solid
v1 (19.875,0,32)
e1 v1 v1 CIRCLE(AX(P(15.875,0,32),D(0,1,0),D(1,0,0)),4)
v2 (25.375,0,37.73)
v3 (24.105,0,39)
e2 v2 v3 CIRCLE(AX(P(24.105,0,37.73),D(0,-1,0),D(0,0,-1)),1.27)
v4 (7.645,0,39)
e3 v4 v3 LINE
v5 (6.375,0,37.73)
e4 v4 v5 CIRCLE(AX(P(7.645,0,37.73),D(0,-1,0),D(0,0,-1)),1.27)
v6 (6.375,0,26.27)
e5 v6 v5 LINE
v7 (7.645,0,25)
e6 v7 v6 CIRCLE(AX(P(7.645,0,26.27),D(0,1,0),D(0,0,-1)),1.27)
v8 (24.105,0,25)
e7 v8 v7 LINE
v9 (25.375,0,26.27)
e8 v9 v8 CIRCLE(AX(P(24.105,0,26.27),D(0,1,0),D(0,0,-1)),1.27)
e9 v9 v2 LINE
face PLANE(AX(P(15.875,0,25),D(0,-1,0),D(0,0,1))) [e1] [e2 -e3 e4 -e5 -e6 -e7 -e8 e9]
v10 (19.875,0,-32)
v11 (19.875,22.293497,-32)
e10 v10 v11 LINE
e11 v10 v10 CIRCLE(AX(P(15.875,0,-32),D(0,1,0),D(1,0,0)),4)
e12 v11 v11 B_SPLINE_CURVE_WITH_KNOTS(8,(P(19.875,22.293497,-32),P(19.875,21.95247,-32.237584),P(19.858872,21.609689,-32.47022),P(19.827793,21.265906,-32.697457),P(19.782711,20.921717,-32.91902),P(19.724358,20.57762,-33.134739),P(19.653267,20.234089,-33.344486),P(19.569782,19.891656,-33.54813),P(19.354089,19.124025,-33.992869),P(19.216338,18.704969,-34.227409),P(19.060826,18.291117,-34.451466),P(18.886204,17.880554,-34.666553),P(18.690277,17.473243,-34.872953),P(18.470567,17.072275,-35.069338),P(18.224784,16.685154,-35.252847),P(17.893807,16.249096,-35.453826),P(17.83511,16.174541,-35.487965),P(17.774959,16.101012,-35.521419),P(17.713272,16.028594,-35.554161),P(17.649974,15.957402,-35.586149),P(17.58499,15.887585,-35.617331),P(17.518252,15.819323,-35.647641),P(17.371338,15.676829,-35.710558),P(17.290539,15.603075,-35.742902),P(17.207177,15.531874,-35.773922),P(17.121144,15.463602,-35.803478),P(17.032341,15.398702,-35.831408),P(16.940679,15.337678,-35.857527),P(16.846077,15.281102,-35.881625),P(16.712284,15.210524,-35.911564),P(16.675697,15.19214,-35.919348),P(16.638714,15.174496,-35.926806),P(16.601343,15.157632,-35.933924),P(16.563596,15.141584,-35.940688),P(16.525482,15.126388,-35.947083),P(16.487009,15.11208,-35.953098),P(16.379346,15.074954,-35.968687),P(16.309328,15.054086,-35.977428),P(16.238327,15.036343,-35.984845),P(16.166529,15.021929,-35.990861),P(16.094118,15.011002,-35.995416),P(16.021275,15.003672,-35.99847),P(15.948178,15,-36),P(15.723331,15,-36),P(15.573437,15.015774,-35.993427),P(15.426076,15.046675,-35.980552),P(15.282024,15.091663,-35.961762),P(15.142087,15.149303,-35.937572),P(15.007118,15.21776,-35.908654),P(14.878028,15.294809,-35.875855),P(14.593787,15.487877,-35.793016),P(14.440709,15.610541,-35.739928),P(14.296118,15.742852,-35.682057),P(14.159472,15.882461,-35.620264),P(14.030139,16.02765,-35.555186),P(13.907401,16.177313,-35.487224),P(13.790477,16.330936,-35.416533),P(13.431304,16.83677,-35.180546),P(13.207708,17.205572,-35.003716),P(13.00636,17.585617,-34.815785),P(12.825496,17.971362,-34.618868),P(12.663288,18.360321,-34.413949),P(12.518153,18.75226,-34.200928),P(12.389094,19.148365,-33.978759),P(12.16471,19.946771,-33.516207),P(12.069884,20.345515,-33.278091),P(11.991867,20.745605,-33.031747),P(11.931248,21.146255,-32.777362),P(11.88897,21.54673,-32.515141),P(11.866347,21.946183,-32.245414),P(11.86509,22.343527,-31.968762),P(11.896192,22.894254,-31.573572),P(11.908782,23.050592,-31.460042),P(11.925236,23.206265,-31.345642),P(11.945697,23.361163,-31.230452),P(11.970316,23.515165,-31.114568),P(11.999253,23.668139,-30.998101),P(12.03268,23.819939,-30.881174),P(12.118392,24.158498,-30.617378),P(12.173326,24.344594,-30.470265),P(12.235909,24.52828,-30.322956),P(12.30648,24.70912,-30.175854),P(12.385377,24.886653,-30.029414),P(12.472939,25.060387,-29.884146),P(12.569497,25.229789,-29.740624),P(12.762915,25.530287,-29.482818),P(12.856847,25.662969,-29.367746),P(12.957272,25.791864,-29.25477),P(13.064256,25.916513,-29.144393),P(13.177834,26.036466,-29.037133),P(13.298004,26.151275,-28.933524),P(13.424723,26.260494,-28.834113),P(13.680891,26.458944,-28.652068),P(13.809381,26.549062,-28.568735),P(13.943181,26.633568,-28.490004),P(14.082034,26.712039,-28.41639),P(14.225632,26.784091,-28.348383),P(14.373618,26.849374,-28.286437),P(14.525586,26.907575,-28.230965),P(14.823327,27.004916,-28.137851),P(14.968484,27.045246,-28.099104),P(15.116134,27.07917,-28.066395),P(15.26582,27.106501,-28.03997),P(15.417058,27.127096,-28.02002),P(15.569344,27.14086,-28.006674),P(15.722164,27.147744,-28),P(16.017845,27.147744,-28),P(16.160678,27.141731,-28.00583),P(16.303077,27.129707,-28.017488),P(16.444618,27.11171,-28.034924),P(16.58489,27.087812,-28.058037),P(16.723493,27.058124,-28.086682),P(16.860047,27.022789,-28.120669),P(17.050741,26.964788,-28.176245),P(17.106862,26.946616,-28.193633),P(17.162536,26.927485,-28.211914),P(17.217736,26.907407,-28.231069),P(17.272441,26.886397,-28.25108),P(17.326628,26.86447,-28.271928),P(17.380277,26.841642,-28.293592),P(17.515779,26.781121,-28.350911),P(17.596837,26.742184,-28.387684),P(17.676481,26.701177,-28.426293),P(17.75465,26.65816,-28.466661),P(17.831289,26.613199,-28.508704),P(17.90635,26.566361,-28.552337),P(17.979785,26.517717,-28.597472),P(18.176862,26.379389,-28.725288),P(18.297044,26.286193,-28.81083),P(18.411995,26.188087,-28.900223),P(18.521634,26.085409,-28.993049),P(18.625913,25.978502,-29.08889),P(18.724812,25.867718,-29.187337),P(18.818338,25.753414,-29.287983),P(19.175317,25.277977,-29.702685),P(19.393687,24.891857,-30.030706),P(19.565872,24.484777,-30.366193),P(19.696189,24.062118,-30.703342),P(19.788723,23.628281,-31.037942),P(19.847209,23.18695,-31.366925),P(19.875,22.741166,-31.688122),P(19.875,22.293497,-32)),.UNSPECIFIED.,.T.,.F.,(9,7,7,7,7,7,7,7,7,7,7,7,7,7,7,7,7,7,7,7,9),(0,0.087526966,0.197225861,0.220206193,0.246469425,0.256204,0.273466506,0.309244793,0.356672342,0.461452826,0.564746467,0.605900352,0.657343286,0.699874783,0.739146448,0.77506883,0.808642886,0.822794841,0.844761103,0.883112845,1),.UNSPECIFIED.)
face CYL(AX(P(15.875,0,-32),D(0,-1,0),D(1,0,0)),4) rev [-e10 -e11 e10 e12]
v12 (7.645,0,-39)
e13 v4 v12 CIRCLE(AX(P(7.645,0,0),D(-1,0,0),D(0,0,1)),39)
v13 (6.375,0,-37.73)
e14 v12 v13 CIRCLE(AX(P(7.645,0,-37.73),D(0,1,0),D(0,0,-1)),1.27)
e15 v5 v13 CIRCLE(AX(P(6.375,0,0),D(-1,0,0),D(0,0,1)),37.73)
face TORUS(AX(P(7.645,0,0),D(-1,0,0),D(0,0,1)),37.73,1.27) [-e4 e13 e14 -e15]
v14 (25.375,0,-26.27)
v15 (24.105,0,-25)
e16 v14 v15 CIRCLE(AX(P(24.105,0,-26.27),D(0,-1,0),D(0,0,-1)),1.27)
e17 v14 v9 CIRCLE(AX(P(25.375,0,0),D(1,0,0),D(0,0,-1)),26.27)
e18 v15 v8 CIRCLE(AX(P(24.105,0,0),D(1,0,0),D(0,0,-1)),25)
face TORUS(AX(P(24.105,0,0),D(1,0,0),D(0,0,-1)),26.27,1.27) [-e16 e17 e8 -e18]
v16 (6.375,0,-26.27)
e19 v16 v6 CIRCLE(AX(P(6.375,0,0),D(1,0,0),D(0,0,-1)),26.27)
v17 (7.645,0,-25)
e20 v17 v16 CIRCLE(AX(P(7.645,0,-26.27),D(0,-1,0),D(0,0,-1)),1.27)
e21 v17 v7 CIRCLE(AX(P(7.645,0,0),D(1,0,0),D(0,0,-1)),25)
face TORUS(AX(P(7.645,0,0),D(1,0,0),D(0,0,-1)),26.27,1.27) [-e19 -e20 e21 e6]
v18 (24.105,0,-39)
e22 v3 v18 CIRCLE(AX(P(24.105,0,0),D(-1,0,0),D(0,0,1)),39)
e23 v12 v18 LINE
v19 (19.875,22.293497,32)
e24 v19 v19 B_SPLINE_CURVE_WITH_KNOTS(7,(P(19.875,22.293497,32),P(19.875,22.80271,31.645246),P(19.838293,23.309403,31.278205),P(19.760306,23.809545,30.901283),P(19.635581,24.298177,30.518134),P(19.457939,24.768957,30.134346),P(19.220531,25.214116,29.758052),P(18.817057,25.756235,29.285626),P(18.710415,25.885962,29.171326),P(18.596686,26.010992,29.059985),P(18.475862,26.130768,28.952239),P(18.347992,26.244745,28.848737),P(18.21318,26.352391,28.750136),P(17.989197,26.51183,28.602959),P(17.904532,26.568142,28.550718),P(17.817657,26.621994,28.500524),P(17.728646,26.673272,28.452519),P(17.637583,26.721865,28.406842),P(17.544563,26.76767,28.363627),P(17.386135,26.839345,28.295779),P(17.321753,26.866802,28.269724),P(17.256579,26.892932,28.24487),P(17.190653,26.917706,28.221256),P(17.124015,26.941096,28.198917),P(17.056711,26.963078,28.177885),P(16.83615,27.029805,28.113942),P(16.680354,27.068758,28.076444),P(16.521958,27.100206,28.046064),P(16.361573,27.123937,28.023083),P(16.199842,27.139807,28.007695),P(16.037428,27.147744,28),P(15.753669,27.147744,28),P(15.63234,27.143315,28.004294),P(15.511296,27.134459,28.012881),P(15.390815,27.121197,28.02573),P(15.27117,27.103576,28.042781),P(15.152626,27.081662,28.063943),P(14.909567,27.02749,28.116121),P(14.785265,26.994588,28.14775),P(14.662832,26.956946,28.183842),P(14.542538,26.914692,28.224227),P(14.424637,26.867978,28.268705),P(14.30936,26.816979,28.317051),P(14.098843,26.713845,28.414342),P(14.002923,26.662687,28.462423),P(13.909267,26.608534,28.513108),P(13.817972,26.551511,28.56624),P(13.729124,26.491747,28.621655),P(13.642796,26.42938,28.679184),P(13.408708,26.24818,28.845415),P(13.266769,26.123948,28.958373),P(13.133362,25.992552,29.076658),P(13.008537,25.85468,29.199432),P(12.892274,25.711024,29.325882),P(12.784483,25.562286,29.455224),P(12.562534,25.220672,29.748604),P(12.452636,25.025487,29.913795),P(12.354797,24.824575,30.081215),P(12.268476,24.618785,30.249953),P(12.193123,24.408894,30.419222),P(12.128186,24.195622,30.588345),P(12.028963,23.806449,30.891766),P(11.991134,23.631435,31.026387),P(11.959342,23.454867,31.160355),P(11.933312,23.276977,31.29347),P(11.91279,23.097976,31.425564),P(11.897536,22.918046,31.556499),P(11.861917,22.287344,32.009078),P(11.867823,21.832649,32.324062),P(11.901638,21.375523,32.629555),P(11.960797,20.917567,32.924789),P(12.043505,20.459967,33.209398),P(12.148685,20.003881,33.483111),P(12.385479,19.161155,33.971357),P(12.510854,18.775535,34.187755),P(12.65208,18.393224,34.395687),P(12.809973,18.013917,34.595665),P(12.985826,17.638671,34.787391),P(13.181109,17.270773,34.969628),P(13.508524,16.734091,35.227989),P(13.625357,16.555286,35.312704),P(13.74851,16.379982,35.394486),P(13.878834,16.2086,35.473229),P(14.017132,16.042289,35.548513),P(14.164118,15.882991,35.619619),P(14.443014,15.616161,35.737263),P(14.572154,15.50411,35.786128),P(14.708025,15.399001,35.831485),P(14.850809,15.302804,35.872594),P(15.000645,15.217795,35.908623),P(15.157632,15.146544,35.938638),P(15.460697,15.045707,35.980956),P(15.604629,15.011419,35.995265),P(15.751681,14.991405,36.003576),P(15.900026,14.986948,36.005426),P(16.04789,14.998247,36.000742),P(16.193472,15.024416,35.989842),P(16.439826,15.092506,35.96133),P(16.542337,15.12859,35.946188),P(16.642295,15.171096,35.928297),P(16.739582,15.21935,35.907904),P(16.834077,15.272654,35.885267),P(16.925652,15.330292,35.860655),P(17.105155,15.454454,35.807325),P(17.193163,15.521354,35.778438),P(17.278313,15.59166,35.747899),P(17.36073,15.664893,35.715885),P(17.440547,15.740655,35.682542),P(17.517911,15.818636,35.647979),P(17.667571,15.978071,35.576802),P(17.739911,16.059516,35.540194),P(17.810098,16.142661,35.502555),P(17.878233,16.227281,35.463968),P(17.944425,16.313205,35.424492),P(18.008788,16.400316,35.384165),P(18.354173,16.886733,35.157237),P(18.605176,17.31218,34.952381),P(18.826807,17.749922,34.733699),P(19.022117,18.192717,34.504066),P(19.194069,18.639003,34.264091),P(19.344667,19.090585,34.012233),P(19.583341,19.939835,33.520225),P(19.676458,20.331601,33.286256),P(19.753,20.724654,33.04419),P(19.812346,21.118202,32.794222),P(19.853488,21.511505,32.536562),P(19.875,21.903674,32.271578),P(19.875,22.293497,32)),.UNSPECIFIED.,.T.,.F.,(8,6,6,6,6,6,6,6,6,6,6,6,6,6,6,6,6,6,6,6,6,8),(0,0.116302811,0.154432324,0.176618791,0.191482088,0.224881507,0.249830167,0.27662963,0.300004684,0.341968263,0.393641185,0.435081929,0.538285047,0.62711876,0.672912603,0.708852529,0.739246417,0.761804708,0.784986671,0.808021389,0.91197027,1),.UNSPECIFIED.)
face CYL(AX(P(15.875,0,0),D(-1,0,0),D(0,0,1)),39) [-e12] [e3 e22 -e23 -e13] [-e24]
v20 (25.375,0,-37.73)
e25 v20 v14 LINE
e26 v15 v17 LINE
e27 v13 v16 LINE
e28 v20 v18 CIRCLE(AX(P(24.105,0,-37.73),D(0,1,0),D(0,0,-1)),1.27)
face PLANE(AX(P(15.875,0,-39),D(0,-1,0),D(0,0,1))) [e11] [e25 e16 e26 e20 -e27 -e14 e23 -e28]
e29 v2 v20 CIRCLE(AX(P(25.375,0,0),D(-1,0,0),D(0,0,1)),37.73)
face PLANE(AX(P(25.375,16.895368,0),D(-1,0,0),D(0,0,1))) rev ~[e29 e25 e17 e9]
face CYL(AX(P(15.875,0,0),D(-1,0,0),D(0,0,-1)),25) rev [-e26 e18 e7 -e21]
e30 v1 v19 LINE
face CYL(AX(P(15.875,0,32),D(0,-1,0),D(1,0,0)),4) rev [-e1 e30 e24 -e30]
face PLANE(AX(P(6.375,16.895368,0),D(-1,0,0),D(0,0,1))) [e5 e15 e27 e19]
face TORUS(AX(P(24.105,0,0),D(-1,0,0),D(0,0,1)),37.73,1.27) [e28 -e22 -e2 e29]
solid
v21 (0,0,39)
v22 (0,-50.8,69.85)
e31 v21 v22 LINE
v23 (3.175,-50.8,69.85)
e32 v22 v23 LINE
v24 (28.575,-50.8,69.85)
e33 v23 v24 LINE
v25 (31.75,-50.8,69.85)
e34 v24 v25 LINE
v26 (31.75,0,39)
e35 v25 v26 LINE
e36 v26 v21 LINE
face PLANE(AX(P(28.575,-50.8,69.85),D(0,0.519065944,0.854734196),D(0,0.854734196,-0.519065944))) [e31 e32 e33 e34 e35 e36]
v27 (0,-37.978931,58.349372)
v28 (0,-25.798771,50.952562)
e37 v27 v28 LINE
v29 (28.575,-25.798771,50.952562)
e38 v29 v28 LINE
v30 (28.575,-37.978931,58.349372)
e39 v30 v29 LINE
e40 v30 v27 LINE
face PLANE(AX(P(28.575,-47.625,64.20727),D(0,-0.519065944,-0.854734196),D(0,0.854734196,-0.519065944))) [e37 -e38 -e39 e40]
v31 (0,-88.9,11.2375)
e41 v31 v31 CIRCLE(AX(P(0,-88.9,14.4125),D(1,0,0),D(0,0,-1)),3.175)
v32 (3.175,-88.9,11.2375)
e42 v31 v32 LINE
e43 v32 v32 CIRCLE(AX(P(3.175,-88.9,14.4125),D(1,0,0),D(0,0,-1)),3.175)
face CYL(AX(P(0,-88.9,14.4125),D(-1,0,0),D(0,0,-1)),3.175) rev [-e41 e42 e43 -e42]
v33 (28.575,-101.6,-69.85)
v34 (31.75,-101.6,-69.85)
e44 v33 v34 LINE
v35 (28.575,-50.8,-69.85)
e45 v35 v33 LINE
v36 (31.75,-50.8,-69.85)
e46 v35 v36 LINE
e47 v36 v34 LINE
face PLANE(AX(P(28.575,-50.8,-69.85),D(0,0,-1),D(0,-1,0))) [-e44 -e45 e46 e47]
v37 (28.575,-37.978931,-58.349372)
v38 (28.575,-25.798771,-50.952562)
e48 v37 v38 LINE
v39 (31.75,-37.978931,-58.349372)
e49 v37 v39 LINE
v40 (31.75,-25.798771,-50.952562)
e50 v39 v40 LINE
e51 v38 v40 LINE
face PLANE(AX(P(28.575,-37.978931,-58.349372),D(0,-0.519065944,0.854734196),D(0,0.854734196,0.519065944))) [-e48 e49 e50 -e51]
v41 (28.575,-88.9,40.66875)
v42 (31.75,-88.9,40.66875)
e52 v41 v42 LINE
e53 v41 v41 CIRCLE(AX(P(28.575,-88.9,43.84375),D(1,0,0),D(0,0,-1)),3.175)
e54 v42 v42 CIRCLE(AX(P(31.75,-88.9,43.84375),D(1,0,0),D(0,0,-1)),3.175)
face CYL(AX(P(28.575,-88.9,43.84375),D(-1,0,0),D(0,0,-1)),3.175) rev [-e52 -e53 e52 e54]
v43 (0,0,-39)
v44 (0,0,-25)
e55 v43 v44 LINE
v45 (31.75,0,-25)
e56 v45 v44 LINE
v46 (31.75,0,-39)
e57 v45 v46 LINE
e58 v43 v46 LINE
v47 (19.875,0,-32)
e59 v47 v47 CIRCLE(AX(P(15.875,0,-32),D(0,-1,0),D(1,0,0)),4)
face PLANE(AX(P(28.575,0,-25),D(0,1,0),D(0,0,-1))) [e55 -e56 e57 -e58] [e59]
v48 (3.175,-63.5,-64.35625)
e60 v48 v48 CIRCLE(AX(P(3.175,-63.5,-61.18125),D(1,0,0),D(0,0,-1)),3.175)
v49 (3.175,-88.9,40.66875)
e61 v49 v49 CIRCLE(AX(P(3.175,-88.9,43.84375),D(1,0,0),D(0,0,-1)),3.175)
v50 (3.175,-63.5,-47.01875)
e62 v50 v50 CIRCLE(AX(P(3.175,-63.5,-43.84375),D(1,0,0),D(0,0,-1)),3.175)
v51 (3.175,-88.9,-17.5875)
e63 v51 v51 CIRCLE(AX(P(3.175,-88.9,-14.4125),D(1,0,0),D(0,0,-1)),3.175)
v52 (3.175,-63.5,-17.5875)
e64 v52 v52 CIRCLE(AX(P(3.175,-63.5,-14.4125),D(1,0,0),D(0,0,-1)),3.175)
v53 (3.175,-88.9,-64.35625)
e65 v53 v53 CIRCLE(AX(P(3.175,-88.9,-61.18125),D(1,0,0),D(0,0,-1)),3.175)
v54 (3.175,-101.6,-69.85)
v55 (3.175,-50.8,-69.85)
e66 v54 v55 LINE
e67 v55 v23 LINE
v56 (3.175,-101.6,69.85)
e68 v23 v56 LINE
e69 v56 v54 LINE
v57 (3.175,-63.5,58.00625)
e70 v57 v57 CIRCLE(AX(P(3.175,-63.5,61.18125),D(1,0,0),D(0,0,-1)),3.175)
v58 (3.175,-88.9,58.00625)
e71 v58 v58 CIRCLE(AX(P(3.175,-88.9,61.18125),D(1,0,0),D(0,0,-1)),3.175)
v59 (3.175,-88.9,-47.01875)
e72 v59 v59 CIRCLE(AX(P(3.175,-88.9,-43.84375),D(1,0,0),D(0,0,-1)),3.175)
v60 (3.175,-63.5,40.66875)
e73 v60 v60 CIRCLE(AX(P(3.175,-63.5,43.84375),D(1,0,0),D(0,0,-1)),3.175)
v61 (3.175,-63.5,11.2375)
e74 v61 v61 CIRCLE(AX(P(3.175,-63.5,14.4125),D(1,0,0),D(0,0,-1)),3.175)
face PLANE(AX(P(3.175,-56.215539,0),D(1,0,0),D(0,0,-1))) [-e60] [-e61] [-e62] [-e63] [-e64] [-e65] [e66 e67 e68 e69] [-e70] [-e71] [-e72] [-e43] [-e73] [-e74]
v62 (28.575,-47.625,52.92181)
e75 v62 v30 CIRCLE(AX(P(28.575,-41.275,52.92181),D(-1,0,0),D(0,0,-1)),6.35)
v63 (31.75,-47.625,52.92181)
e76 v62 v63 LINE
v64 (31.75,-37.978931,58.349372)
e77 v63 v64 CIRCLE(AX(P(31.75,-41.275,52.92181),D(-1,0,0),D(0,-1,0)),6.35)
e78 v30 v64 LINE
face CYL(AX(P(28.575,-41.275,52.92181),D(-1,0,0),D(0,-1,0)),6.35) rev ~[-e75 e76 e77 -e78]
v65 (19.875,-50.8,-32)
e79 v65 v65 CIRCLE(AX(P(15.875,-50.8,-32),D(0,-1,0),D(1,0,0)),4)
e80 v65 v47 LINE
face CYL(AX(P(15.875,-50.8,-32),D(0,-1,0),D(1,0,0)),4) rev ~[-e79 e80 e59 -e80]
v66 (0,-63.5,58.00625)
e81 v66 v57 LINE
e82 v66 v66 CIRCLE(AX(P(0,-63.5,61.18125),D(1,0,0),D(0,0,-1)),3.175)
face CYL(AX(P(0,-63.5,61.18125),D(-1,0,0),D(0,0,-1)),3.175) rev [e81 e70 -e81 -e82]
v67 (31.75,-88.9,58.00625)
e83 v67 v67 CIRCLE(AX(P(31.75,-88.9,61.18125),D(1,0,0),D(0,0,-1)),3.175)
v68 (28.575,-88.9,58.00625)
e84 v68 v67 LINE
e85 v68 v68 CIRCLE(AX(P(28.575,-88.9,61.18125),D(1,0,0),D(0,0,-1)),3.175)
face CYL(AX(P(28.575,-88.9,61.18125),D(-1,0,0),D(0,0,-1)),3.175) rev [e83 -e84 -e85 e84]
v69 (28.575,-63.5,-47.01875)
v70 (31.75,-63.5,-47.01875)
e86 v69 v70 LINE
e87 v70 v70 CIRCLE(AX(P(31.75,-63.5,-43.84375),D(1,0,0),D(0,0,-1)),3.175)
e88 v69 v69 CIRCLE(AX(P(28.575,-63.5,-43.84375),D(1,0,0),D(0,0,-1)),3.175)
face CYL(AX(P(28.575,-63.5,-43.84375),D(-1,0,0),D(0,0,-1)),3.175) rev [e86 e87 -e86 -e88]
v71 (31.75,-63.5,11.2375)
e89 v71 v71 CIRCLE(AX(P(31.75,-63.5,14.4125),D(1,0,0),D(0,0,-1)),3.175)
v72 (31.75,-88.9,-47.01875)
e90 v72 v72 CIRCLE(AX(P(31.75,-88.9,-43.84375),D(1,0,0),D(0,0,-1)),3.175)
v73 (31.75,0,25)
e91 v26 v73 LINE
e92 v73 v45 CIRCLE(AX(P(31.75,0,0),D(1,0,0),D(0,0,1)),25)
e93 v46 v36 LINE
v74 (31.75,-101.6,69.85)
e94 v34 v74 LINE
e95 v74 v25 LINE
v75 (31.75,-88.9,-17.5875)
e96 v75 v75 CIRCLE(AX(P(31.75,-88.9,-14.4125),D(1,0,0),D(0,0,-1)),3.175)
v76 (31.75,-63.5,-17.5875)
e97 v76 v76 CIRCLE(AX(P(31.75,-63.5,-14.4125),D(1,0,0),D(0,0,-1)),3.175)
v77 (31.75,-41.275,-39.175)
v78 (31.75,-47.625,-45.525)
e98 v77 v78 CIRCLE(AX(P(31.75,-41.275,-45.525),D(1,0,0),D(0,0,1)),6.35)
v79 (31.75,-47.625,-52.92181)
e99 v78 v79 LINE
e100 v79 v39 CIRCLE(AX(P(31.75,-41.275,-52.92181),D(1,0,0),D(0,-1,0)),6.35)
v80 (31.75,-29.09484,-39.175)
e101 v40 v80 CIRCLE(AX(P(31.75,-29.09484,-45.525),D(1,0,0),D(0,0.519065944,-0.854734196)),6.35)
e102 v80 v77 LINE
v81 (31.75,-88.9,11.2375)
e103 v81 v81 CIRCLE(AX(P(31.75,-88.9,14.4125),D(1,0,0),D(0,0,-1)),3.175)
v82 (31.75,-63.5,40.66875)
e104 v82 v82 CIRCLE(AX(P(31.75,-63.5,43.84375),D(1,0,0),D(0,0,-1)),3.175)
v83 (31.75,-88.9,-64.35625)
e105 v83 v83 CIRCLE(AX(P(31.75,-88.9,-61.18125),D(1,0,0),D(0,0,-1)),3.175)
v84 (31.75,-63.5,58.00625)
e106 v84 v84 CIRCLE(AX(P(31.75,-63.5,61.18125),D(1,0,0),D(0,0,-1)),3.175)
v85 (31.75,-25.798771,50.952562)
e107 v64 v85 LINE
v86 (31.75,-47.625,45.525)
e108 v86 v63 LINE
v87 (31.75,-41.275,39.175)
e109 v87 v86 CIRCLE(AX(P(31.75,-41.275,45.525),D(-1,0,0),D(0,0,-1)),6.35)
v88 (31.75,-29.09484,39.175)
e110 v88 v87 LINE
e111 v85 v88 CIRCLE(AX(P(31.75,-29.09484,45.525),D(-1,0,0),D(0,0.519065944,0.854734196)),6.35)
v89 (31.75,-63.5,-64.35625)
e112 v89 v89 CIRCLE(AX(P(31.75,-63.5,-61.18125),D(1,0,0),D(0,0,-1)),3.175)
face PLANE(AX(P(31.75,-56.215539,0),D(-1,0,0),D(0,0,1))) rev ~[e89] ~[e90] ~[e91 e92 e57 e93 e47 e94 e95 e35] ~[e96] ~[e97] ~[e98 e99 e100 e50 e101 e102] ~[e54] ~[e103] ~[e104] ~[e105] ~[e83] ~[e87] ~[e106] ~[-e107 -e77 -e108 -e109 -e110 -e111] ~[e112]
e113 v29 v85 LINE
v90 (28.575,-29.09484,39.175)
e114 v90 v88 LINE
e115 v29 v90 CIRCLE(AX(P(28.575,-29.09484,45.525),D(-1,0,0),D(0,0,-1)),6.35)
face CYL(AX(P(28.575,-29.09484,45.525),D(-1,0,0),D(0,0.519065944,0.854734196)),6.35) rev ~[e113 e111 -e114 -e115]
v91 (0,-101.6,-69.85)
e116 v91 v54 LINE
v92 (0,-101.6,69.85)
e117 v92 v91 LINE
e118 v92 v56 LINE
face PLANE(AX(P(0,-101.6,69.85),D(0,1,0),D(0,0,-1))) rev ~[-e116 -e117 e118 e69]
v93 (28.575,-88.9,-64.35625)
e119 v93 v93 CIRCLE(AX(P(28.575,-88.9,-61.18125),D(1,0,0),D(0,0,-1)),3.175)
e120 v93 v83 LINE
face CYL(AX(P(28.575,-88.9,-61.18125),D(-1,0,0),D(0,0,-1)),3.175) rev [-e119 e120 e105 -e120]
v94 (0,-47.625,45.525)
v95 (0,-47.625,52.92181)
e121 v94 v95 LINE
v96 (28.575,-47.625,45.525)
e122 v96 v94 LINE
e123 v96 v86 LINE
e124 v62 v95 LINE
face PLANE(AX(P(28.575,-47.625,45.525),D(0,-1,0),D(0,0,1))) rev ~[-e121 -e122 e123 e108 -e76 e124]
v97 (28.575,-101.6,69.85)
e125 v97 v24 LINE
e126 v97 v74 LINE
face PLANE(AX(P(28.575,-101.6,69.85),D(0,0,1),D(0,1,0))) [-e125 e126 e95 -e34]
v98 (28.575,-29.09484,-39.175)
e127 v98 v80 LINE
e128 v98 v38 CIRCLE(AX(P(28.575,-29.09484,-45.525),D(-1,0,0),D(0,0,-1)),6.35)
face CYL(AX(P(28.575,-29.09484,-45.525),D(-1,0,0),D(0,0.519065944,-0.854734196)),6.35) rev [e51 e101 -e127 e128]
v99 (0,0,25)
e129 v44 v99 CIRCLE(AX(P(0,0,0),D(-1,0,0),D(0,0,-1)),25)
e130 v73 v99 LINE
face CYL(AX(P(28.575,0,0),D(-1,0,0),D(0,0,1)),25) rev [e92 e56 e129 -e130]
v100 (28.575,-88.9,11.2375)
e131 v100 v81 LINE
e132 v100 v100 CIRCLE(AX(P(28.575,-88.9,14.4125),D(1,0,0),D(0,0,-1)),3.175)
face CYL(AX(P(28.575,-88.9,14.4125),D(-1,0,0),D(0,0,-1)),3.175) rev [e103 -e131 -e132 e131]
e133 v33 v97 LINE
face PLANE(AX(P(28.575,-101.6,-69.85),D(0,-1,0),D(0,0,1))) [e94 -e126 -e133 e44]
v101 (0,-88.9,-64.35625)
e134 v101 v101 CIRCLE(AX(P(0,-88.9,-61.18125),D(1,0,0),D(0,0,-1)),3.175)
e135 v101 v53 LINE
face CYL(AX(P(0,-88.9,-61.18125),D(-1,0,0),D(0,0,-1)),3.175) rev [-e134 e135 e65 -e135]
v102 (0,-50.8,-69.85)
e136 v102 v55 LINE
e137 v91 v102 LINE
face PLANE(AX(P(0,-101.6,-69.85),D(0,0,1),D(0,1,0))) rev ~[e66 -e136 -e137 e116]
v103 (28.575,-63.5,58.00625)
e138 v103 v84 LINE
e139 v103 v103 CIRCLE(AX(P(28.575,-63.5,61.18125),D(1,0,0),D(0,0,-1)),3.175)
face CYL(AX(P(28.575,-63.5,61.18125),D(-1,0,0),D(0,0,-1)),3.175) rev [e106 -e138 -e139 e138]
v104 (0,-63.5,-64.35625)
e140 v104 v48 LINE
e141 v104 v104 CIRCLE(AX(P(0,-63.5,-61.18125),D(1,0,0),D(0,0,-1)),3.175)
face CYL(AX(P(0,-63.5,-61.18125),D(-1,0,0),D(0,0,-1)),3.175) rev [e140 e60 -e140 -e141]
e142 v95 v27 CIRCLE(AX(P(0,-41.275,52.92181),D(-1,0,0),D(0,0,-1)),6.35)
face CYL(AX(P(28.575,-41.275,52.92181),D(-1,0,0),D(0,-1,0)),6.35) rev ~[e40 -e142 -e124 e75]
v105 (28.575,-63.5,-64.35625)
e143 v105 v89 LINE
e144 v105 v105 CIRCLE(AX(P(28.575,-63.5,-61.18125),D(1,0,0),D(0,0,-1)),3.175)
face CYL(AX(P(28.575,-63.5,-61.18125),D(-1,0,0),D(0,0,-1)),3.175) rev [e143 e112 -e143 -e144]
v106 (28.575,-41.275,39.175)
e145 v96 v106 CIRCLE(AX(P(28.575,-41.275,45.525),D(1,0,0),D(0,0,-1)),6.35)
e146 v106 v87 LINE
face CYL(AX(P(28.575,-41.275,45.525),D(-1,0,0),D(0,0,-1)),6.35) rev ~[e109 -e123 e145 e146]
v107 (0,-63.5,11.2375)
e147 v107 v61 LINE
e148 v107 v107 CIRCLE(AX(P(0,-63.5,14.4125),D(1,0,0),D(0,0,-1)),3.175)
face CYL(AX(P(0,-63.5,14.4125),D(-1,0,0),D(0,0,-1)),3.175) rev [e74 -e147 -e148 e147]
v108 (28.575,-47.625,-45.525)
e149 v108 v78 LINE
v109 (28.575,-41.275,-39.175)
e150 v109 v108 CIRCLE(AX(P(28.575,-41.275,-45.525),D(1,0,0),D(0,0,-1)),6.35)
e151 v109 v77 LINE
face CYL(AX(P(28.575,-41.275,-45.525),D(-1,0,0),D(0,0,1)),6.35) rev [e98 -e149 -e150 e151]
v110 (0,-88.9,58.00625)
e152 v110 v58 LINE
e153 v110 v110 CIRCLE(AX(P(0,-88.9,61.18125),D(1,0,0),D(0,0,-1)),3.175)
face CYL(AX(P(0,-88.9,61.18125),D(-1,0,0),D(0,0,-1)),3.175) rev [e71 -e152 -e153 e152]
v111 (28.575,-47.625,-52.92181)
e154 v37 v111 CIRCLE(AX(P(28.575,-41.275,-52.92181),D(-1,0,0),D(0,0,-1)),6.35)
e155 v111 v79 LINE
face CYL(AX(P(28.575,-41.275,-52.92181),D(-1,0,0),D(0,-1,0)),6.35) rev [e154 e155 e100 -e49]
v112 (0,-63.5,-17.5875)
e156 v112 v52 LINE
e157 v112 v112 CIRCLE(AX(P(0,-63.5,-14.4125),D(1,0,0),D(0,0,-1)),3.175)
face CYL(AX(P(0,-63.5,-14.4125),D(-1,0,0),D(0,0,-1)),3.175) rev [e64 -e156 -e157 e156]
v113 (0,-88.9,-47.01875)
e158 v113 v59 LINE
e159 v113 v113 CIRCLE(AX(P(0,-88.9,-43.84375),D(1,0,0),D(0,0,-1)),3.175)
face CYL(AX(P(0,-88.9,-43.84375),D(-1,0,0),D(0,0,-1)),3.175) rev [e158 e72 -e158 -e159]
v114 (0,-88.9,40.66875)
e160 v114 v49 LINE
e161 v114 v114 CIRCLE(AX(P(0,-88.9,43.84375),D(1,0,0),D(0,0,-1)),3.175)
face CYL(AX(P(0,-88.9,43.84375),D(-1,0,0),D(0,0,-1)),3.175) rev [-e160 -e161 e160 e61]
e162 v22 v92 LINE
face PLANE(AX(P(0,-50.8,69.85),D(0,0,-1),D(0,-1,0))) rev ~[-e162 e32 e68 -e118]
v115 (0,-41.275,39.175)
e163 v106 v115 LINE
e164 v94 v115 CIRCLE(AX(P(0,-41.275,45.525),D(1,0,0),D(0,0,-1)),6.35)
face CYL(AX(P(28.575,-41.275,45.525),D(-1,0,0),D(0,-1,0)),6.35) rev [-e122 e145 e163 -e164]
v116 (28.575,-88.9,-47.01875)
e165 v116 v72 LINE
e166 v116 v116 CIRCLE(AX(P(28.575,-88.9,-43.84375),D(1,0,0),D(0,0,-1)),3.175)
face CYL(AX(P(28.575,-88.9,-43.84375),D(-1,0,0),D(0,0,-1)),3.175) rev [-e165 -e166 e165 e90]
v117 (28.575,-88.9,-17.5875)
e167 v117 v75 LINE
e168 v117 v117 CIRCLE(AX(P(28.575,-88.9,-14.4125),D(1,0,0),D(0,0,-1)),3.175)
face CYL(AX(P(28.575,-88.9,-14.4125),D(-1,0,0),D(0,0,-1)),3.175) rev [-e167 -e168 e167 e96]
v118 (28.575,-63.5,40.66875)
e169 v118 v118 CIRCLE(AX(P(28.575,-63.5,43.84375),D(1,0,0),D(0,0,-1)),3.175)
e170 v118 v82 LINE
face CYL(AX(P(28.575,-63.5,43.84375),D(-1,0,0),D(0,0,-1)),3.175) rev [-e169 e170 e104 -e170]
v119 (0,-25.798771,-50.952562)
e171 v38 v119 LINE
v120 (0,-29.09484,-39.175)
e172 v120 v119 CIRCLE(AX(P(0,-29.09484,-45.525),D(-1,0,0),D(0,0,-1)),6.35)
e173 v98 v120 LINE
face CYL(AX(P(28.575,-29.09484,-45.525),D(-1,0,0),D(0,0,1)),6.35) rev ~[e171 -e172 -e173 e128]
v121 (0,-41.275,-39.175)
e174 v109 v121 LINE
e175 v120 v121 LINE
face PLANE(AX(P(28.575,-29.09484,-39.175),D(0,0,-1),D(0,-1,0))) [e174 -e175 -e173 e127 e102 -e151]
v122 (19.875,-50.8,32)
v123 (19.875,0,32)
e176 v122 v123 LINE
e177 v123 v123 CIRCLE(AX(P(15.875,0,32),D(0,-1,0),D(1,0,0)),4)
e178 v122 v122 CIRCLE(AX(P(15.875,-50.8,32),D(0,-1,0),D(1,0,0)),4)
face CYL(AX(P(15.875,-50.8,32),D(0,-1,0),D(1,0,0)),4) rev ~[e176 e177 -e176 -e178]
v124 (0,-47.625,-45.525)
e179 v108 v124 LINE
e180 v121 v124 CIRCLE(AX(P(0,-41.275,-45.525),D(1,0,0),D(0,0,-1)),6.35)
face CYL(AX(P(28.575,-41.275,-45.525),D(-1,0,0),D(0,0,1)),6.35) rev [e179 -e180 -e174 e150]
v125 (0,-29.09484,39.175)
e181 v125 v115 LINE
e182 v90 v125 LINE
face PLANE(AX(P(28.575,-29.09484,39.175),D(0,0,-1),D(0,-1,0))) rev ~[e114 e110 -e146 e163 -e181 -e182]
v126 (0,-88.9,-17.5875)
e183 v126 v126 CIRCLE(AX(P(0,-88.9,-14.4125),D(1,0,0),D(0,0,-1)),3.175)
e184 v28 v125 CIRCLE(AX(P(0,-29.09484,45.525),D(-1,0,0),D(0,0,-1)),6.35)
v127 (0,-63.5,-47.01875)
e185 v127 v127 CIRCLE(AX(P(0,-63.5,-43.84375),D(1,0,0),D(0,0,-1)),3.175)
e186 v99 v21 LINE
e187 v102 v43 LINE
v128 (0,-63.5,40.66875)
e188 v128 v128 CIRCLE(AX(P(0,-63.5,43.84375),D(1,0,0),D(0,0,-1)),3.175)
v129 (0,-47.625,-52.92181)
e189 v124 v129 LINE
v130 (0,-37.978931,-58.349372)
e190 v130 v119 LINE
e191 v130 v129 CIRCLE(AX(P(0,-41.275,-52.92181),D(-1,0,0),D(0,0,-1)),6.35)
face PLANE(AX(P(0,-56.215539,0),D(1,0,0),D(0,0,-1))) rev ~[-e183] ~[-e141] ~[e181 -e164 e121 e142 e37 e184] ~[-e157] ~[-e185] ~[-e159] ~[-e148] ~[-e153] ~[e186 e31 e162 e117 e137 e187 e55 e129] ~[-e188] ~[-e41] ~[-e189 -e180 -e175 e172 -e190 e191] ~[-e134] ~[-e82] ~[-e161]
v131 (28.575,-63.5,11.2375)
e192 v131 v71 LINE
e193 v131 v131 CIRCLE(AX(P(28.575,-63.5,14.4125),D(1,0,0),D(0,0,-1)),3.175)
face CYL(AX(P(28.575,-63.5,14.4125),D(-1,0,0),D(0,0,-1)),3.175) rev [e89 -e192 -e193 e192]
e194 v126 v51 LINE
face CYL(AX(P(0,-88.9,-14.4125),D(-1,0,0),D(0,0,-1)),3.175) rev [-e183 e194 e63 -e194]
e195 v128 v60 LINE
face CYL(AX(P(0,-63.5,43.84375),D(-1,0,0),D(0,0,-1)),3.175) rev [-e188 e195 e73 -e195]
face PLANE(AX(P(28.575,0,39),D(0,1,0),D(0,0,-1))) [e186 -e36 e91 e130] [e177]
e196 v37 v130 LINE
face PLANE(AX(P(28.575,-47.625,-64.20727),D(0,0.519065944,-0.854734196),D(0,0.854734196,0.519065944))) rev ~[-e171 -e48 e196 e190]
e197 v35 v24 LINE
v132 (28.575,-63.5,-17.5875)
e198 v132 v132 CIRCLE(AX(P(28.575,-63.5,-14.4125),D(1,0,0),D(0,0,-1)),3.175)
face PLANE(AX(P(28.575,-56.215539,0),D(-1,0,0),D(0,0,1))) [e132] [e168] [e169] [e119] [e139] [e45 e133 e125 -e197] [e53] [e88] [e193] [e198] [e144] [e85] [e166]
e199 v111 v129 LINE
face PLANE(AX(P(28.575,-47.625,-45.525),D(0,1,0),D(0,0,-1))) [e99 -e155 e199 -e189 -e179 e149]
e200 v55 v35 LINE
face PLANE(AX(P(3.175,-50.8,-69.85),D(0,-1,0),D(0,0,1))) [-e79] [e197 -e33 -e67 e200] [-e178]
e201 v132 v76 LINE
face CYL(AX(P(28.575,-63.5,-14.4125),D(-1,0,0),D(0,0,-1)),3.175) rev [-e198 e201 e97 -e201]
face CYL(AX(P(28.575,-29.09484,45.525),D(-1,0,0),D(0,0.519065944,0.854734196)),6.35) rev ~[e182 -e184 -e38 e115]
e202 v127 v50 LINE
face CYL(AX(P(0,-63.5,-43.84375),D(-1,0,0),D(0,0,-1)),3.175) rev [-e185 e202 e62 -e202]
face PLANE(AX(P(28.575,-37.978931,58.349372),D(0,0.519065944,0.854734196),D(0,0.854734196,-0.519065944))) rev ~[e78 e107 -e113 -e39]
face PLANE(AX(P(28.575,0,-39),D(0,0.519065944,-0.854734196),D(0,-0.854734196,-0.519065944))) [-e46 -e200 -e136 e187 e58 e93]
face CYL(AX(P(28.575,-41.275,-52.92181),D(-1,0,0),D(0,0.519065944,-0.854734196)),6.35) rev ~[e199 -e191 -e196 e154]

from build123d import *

# Parameters (mm, degrees)
SKETCH1_R           = 3.175
BOSS_EXTRUDE1_DEPTH = 3.175
BOSS_EXTRUDE2_START = 3.175
BOSS_EXTRUDE2_DEPTH = 25.4
SKETCH2_R           = 4
CUT_EXTRUDE1_DEPTH  = 51.8
CUT_EXTRUDE4_DEPTH  = 29.575
FILLET1_R           = 6.35
SKETCH7_R           = 3.175
BOSS_EXTRUDE3_DEPTH = 3.175
BOSS_EXTRUDE4_START = -15.875
BOSS_EXTRUDE4_DEPTH = 9.5
SKETCH10_R          = 4
CUT_EXTRUDE8_DEPTH  = 40
FILLET3_R           = 1.27


with BuildPart() as part:
    # Sketch1 → Boss-Extrude1 (new body)
    with BuildSketch(Plane(origin=(0, 0, 0), x_dir=(0, 0, -1), z_dir=(1, 0, 0))):
        with BuildLine():
            Line((-25, 0), (-39, 0))
            Line((-39, 0), (-69.85, -50.8))
            Line((-69.85, -50.8), (-69.85, -101.6))
            Line((-69.85, -101.6), (69.85, -101.6))
            Line((69.85, -101.6), (69.85, -50.8))
            Line((69.85, -50.8), (39, 0))
            Line((39, 0), (25, 0))
            ThreePointArc((25, 0), (0, -25), (-25, 0))
        make_face()
        with Locations((-61.18125, -63.5)):
            Circle(SKETCH1_R, mode=Mode.SUBTRACT)
        with Locations((-43.84375, -63.5)):
            Circle(SKETCH1_R, mode=Mode.SUBTRACT)
        with Locations((-61.18125, -88.9)):
            Circle(SKETCH1_R, mode=Mode.SUBTRACT)
        with Locations((-43.84375, -88.9)):
            Circle(SKETCH1_R, mode=Mode.SUBTRACT)
        with Locations((61.18125, -88.9)):
            Circle(SKETCH1_R, mode=Mode.SUBTRACT)
        with Locations((43.84375, -88.9)):
            Circle(SKETCH1_R, mode=Mode.SUBTRACT)
        with Locations((43.84375, -63.5)):
            Circle(SKETCH1_R, mode=Mode.SUBTRACT)
        with Locations((61.18125, -63.5)):
            Circle(SKETCH1_R, mode=Mode.SUBTRACT)
        with Locations((-14.4125, -63.5)):
            Circle(SKETCH1_R, mode=Mode.SUBTRACT)
        with Locations((14.4125, -63.5)):
            Circle(SKETCH1_R, mode=Mode.SUBTRACT)
        with Locations((-14.4125, -88.9)):
            Circle(SKETCH1_R, mode=Mode.SUBTRACT)
        with Locations((14.4125, -88.9)):
            Circle(SKETCH1_R, mode=Mode.SUBTRACT)
    extrude(amount=BOSS_EXTRUDE1_DEPTH)

    # Sketch1<3> → Boss-Extrude2 (add)
    with BuildSketch(Plane(origin=(0, 0, 0), x_dir=(0, 0, -1), z_dir=(1, 0, 0)).offset(BOSS_EXTRUDE2_START)):
        with BuildLine():
            ThreePointArc((-25, 0), (0, -25), (25, 0))
            Line((25, 0), (39, 0))
            Line((39, 0), (69.85, -50.8))
            Line((69.85, -50.8), (-69.85, -50.8))
            Line((-69.85, -50.8), (-39, 0))
            Line((-39, 0), (-25, 0))
        make_face()
    extrude(amount=BOSS_EXTRUDE2_DEPTH)

    # Sketch2 → Cut-Extrude1 (cut, through all)
    with BuildSketch(Plane.XZ.offset(50.8)):
        with Locations((15.875, 32.000000008)):
            Circle(SKETCH2_R)
        with Locations((15.875, -32.000000008)):
            Circle(SKETCH2_R)
    extrude(amount=-CUT_EXTRUDE1_DEPTH, mode=Mode.SUBTRACT)

    # Sketch3 → Cut-Extrude4 (cut, through all)
    with BuildSketch(Plane(origin=(28.575, 0, 0), x_dir=(0, 0, -1), z_dir=(1, 0, 0))):
        Polygon((-39.175000008, -47.625), (-64.207269904, -47.625), (-39.175000008, -6.404925098), align=None)
        Polygon((39.175000008, -47.625), (64.207269904, -47.625), (39.175000008, -6.404925098), align=None)
    extrude(amount=-CUT_EXTRUDE4_DEPTH, mode=Mode.SUBTRACT)

    # Fillet1
    fillet1_edges = [part.edges().sort_by_distance(p)[0] for p in [
        (14.2875, -47.625, -64.207269904),
        (14.2875, -47.625, -39.175000008),
        (14.2875, -6.404925098, -39.175000008),
        (14.2875, -47.625, 39.175000008),
        (14.2875, -47.625, 64.207269904),
        (14.2875, -6.404925098, 39.175000008),
    ]]
    fillet(fillet1_edges, radius=FILLET1_R)

    # Sketch7 → Boss-Extrude3 (add)
    with BuildSketch(Plane(origin=(28.575, 0, 0), x_dir=(0, 0, -1), z_dir=(1, 0, 0))):
        with BuildLine():
            Line((-69.85, -101.6), (-69.85, -50.8))
            Line((-69.85, -50.8), (-39, 0))
            Line((-39, 0), (-25, 0))
            ThreePointArc((-25, 0), (0, -25), (25, 0))
            Line((25, 0), (39, 0))
            Line((39, 0), (69.85, -50.8))
            Line((69.85, -50.8), (69.85, -101.6))
            Line((69.85, -101.6), (-69.85, -101.6))
        make_face()
        with Locations((-43.84375, -88.9)):
            Circle(SKETCH7_R, mode=Mode.SUBTRACT)
        with Locations((-61.18125, -88.9)):
            Circle(SKETCH7_R, mode=Mode.SUBTRACT)
        with Locations((-61.18125, -63.5)):
            Circle(SKETCH7_R, mode=Mode.SUBTRACT)
        with Locations((-43.84375, -63.5)):
            Circle(SKETCH7_R, mode=Mode.SUBTRACT)
        with Locations((14.4125, -88.9)):
            Circle(SKETCH7_R, mode=Mode.SUBTRACT)
        with Locations((-14.4125, -88.9)):
            Circle(SKETCH7_R, mode=Mode.SUBTRACT)
        with Locations((-14.4125, -63.5)):
            Circle(SKETCH7_R, mode=Mode.SUBTRACT)
        with Locations((14.4125, -63.5)):
            Circle(SKETCH7_R, mode=Mode.SUBTRACT)
        with Locations((61.18125, -88.9)):
            Circle(SKETCH7_R, mode=Mode.SUBTRACT)
        with Locations((43.84375, -88.9)):
            Circle(SKETCH7_R, mode=Mode.SUBTRACT)
        with Locations((43.84375, -63.5)):
            Circle(SKETCH7_R, mode=Mode.SUBTRACT)
        with Locations((61.18125, -63.5)):
            Circle(SKETCH7_R, mode=Mode.SUBTRACT)
        with BuildLine():
            Line((58.349371858, -37.978931256), (50.952562153, -25.798771352))
            ThreePointArc((50.952562153, -25.798771352), (43.813643765, -22.979796367), (39.175000008, -29.094840096))
            Line((39.175000008, -29.094840096), (39.175000008, -41.275))
            ThreePointArc((39.175000008, -41.275), (41.034871947, -45.765128061), (45.525000008, -47.625))
            Line((45.525000008, -47.625), (52.921809713, -47.625))
            ThreePointArc((52.921809713, -47.625), (58.455910206, -44.388877284), (58.349371858, -37.978931256))
        make_face(mode=Mode.SUBTRACT)
        with BuildLine():
            Line((-45.525000008, -47.625), (-52.921809713, -47.625))
            ThreePointArc((-52.921809713, -47.625), (-58.455910206, -44.388877284), (-58.349371858, -37.978931256))
            Line((-58.349371858, -37.978931256), (-50.952562153, -25.798771352))
            ThreePointArc((-50.952562153, -25.798771352), (-43.813643765, -22.979796367), (-39.175000008, -29.094840096))
            Line((-39.175000008, -29.094840096), (-39.175000008, -41.275))
            ThreePointArc((-39.175000008, -41.275), (-41.034871947, -45.765128061), (-45.525000008, -47.625))
        make_face(mode=Mode.SUBTRACT)
    extrude(amount=BOSS_EXTRUDE3_DEPTH)


with BuildPart() as body_2:
    # Sketch9 → Boss-Extrude4 (new body, symmetric)
    with BuildSketch(Plane.ZY.offset(BOSS_EXTRUDE4_START)):
        with BuildLine():
            Line((-39, 0), (-25, 0))
            ThreePointArc((-25, 0), (0, 25), (25, 0))
            Line((25, 0), (39, 0))
            ThreePointArc((39, 0), (0, 39), (-39, 0))
        make_face()
    extrude(amount=BOSS_EXTRUDE4_DEPTH, both=True)

    # Sketch10 → Cut-Extrude8 (cut, through all)
    with BuildSketch(Plane(origin=(0, 0, 0), x_dir=(1, 0, 0), z_dir=(0, 1, 0))):
        with Locations((15.875, 32.000000008)):
            Circle(SKETCH10_R)
        with Locations((15.875, -32.000000008)):
            Circle(SKETCH10_R)
    extrude(amount=CUT_EXTRUDE8_DEPTH, mode=Mode.SUBTRACT)

    # Fillet3
    fillet3_edges = [body_2.edges().sort_by_distance(p)[0] for p in [
        (6.375, 39, 0),
        (6.375, 25, 0),
        (25.375, 39, 0),
        (25.375, 25, 0),
    ]]
    fillet(fillet3_edges, radius=FILLET3_R)


solid = Compound([part.part, body_2.part])
